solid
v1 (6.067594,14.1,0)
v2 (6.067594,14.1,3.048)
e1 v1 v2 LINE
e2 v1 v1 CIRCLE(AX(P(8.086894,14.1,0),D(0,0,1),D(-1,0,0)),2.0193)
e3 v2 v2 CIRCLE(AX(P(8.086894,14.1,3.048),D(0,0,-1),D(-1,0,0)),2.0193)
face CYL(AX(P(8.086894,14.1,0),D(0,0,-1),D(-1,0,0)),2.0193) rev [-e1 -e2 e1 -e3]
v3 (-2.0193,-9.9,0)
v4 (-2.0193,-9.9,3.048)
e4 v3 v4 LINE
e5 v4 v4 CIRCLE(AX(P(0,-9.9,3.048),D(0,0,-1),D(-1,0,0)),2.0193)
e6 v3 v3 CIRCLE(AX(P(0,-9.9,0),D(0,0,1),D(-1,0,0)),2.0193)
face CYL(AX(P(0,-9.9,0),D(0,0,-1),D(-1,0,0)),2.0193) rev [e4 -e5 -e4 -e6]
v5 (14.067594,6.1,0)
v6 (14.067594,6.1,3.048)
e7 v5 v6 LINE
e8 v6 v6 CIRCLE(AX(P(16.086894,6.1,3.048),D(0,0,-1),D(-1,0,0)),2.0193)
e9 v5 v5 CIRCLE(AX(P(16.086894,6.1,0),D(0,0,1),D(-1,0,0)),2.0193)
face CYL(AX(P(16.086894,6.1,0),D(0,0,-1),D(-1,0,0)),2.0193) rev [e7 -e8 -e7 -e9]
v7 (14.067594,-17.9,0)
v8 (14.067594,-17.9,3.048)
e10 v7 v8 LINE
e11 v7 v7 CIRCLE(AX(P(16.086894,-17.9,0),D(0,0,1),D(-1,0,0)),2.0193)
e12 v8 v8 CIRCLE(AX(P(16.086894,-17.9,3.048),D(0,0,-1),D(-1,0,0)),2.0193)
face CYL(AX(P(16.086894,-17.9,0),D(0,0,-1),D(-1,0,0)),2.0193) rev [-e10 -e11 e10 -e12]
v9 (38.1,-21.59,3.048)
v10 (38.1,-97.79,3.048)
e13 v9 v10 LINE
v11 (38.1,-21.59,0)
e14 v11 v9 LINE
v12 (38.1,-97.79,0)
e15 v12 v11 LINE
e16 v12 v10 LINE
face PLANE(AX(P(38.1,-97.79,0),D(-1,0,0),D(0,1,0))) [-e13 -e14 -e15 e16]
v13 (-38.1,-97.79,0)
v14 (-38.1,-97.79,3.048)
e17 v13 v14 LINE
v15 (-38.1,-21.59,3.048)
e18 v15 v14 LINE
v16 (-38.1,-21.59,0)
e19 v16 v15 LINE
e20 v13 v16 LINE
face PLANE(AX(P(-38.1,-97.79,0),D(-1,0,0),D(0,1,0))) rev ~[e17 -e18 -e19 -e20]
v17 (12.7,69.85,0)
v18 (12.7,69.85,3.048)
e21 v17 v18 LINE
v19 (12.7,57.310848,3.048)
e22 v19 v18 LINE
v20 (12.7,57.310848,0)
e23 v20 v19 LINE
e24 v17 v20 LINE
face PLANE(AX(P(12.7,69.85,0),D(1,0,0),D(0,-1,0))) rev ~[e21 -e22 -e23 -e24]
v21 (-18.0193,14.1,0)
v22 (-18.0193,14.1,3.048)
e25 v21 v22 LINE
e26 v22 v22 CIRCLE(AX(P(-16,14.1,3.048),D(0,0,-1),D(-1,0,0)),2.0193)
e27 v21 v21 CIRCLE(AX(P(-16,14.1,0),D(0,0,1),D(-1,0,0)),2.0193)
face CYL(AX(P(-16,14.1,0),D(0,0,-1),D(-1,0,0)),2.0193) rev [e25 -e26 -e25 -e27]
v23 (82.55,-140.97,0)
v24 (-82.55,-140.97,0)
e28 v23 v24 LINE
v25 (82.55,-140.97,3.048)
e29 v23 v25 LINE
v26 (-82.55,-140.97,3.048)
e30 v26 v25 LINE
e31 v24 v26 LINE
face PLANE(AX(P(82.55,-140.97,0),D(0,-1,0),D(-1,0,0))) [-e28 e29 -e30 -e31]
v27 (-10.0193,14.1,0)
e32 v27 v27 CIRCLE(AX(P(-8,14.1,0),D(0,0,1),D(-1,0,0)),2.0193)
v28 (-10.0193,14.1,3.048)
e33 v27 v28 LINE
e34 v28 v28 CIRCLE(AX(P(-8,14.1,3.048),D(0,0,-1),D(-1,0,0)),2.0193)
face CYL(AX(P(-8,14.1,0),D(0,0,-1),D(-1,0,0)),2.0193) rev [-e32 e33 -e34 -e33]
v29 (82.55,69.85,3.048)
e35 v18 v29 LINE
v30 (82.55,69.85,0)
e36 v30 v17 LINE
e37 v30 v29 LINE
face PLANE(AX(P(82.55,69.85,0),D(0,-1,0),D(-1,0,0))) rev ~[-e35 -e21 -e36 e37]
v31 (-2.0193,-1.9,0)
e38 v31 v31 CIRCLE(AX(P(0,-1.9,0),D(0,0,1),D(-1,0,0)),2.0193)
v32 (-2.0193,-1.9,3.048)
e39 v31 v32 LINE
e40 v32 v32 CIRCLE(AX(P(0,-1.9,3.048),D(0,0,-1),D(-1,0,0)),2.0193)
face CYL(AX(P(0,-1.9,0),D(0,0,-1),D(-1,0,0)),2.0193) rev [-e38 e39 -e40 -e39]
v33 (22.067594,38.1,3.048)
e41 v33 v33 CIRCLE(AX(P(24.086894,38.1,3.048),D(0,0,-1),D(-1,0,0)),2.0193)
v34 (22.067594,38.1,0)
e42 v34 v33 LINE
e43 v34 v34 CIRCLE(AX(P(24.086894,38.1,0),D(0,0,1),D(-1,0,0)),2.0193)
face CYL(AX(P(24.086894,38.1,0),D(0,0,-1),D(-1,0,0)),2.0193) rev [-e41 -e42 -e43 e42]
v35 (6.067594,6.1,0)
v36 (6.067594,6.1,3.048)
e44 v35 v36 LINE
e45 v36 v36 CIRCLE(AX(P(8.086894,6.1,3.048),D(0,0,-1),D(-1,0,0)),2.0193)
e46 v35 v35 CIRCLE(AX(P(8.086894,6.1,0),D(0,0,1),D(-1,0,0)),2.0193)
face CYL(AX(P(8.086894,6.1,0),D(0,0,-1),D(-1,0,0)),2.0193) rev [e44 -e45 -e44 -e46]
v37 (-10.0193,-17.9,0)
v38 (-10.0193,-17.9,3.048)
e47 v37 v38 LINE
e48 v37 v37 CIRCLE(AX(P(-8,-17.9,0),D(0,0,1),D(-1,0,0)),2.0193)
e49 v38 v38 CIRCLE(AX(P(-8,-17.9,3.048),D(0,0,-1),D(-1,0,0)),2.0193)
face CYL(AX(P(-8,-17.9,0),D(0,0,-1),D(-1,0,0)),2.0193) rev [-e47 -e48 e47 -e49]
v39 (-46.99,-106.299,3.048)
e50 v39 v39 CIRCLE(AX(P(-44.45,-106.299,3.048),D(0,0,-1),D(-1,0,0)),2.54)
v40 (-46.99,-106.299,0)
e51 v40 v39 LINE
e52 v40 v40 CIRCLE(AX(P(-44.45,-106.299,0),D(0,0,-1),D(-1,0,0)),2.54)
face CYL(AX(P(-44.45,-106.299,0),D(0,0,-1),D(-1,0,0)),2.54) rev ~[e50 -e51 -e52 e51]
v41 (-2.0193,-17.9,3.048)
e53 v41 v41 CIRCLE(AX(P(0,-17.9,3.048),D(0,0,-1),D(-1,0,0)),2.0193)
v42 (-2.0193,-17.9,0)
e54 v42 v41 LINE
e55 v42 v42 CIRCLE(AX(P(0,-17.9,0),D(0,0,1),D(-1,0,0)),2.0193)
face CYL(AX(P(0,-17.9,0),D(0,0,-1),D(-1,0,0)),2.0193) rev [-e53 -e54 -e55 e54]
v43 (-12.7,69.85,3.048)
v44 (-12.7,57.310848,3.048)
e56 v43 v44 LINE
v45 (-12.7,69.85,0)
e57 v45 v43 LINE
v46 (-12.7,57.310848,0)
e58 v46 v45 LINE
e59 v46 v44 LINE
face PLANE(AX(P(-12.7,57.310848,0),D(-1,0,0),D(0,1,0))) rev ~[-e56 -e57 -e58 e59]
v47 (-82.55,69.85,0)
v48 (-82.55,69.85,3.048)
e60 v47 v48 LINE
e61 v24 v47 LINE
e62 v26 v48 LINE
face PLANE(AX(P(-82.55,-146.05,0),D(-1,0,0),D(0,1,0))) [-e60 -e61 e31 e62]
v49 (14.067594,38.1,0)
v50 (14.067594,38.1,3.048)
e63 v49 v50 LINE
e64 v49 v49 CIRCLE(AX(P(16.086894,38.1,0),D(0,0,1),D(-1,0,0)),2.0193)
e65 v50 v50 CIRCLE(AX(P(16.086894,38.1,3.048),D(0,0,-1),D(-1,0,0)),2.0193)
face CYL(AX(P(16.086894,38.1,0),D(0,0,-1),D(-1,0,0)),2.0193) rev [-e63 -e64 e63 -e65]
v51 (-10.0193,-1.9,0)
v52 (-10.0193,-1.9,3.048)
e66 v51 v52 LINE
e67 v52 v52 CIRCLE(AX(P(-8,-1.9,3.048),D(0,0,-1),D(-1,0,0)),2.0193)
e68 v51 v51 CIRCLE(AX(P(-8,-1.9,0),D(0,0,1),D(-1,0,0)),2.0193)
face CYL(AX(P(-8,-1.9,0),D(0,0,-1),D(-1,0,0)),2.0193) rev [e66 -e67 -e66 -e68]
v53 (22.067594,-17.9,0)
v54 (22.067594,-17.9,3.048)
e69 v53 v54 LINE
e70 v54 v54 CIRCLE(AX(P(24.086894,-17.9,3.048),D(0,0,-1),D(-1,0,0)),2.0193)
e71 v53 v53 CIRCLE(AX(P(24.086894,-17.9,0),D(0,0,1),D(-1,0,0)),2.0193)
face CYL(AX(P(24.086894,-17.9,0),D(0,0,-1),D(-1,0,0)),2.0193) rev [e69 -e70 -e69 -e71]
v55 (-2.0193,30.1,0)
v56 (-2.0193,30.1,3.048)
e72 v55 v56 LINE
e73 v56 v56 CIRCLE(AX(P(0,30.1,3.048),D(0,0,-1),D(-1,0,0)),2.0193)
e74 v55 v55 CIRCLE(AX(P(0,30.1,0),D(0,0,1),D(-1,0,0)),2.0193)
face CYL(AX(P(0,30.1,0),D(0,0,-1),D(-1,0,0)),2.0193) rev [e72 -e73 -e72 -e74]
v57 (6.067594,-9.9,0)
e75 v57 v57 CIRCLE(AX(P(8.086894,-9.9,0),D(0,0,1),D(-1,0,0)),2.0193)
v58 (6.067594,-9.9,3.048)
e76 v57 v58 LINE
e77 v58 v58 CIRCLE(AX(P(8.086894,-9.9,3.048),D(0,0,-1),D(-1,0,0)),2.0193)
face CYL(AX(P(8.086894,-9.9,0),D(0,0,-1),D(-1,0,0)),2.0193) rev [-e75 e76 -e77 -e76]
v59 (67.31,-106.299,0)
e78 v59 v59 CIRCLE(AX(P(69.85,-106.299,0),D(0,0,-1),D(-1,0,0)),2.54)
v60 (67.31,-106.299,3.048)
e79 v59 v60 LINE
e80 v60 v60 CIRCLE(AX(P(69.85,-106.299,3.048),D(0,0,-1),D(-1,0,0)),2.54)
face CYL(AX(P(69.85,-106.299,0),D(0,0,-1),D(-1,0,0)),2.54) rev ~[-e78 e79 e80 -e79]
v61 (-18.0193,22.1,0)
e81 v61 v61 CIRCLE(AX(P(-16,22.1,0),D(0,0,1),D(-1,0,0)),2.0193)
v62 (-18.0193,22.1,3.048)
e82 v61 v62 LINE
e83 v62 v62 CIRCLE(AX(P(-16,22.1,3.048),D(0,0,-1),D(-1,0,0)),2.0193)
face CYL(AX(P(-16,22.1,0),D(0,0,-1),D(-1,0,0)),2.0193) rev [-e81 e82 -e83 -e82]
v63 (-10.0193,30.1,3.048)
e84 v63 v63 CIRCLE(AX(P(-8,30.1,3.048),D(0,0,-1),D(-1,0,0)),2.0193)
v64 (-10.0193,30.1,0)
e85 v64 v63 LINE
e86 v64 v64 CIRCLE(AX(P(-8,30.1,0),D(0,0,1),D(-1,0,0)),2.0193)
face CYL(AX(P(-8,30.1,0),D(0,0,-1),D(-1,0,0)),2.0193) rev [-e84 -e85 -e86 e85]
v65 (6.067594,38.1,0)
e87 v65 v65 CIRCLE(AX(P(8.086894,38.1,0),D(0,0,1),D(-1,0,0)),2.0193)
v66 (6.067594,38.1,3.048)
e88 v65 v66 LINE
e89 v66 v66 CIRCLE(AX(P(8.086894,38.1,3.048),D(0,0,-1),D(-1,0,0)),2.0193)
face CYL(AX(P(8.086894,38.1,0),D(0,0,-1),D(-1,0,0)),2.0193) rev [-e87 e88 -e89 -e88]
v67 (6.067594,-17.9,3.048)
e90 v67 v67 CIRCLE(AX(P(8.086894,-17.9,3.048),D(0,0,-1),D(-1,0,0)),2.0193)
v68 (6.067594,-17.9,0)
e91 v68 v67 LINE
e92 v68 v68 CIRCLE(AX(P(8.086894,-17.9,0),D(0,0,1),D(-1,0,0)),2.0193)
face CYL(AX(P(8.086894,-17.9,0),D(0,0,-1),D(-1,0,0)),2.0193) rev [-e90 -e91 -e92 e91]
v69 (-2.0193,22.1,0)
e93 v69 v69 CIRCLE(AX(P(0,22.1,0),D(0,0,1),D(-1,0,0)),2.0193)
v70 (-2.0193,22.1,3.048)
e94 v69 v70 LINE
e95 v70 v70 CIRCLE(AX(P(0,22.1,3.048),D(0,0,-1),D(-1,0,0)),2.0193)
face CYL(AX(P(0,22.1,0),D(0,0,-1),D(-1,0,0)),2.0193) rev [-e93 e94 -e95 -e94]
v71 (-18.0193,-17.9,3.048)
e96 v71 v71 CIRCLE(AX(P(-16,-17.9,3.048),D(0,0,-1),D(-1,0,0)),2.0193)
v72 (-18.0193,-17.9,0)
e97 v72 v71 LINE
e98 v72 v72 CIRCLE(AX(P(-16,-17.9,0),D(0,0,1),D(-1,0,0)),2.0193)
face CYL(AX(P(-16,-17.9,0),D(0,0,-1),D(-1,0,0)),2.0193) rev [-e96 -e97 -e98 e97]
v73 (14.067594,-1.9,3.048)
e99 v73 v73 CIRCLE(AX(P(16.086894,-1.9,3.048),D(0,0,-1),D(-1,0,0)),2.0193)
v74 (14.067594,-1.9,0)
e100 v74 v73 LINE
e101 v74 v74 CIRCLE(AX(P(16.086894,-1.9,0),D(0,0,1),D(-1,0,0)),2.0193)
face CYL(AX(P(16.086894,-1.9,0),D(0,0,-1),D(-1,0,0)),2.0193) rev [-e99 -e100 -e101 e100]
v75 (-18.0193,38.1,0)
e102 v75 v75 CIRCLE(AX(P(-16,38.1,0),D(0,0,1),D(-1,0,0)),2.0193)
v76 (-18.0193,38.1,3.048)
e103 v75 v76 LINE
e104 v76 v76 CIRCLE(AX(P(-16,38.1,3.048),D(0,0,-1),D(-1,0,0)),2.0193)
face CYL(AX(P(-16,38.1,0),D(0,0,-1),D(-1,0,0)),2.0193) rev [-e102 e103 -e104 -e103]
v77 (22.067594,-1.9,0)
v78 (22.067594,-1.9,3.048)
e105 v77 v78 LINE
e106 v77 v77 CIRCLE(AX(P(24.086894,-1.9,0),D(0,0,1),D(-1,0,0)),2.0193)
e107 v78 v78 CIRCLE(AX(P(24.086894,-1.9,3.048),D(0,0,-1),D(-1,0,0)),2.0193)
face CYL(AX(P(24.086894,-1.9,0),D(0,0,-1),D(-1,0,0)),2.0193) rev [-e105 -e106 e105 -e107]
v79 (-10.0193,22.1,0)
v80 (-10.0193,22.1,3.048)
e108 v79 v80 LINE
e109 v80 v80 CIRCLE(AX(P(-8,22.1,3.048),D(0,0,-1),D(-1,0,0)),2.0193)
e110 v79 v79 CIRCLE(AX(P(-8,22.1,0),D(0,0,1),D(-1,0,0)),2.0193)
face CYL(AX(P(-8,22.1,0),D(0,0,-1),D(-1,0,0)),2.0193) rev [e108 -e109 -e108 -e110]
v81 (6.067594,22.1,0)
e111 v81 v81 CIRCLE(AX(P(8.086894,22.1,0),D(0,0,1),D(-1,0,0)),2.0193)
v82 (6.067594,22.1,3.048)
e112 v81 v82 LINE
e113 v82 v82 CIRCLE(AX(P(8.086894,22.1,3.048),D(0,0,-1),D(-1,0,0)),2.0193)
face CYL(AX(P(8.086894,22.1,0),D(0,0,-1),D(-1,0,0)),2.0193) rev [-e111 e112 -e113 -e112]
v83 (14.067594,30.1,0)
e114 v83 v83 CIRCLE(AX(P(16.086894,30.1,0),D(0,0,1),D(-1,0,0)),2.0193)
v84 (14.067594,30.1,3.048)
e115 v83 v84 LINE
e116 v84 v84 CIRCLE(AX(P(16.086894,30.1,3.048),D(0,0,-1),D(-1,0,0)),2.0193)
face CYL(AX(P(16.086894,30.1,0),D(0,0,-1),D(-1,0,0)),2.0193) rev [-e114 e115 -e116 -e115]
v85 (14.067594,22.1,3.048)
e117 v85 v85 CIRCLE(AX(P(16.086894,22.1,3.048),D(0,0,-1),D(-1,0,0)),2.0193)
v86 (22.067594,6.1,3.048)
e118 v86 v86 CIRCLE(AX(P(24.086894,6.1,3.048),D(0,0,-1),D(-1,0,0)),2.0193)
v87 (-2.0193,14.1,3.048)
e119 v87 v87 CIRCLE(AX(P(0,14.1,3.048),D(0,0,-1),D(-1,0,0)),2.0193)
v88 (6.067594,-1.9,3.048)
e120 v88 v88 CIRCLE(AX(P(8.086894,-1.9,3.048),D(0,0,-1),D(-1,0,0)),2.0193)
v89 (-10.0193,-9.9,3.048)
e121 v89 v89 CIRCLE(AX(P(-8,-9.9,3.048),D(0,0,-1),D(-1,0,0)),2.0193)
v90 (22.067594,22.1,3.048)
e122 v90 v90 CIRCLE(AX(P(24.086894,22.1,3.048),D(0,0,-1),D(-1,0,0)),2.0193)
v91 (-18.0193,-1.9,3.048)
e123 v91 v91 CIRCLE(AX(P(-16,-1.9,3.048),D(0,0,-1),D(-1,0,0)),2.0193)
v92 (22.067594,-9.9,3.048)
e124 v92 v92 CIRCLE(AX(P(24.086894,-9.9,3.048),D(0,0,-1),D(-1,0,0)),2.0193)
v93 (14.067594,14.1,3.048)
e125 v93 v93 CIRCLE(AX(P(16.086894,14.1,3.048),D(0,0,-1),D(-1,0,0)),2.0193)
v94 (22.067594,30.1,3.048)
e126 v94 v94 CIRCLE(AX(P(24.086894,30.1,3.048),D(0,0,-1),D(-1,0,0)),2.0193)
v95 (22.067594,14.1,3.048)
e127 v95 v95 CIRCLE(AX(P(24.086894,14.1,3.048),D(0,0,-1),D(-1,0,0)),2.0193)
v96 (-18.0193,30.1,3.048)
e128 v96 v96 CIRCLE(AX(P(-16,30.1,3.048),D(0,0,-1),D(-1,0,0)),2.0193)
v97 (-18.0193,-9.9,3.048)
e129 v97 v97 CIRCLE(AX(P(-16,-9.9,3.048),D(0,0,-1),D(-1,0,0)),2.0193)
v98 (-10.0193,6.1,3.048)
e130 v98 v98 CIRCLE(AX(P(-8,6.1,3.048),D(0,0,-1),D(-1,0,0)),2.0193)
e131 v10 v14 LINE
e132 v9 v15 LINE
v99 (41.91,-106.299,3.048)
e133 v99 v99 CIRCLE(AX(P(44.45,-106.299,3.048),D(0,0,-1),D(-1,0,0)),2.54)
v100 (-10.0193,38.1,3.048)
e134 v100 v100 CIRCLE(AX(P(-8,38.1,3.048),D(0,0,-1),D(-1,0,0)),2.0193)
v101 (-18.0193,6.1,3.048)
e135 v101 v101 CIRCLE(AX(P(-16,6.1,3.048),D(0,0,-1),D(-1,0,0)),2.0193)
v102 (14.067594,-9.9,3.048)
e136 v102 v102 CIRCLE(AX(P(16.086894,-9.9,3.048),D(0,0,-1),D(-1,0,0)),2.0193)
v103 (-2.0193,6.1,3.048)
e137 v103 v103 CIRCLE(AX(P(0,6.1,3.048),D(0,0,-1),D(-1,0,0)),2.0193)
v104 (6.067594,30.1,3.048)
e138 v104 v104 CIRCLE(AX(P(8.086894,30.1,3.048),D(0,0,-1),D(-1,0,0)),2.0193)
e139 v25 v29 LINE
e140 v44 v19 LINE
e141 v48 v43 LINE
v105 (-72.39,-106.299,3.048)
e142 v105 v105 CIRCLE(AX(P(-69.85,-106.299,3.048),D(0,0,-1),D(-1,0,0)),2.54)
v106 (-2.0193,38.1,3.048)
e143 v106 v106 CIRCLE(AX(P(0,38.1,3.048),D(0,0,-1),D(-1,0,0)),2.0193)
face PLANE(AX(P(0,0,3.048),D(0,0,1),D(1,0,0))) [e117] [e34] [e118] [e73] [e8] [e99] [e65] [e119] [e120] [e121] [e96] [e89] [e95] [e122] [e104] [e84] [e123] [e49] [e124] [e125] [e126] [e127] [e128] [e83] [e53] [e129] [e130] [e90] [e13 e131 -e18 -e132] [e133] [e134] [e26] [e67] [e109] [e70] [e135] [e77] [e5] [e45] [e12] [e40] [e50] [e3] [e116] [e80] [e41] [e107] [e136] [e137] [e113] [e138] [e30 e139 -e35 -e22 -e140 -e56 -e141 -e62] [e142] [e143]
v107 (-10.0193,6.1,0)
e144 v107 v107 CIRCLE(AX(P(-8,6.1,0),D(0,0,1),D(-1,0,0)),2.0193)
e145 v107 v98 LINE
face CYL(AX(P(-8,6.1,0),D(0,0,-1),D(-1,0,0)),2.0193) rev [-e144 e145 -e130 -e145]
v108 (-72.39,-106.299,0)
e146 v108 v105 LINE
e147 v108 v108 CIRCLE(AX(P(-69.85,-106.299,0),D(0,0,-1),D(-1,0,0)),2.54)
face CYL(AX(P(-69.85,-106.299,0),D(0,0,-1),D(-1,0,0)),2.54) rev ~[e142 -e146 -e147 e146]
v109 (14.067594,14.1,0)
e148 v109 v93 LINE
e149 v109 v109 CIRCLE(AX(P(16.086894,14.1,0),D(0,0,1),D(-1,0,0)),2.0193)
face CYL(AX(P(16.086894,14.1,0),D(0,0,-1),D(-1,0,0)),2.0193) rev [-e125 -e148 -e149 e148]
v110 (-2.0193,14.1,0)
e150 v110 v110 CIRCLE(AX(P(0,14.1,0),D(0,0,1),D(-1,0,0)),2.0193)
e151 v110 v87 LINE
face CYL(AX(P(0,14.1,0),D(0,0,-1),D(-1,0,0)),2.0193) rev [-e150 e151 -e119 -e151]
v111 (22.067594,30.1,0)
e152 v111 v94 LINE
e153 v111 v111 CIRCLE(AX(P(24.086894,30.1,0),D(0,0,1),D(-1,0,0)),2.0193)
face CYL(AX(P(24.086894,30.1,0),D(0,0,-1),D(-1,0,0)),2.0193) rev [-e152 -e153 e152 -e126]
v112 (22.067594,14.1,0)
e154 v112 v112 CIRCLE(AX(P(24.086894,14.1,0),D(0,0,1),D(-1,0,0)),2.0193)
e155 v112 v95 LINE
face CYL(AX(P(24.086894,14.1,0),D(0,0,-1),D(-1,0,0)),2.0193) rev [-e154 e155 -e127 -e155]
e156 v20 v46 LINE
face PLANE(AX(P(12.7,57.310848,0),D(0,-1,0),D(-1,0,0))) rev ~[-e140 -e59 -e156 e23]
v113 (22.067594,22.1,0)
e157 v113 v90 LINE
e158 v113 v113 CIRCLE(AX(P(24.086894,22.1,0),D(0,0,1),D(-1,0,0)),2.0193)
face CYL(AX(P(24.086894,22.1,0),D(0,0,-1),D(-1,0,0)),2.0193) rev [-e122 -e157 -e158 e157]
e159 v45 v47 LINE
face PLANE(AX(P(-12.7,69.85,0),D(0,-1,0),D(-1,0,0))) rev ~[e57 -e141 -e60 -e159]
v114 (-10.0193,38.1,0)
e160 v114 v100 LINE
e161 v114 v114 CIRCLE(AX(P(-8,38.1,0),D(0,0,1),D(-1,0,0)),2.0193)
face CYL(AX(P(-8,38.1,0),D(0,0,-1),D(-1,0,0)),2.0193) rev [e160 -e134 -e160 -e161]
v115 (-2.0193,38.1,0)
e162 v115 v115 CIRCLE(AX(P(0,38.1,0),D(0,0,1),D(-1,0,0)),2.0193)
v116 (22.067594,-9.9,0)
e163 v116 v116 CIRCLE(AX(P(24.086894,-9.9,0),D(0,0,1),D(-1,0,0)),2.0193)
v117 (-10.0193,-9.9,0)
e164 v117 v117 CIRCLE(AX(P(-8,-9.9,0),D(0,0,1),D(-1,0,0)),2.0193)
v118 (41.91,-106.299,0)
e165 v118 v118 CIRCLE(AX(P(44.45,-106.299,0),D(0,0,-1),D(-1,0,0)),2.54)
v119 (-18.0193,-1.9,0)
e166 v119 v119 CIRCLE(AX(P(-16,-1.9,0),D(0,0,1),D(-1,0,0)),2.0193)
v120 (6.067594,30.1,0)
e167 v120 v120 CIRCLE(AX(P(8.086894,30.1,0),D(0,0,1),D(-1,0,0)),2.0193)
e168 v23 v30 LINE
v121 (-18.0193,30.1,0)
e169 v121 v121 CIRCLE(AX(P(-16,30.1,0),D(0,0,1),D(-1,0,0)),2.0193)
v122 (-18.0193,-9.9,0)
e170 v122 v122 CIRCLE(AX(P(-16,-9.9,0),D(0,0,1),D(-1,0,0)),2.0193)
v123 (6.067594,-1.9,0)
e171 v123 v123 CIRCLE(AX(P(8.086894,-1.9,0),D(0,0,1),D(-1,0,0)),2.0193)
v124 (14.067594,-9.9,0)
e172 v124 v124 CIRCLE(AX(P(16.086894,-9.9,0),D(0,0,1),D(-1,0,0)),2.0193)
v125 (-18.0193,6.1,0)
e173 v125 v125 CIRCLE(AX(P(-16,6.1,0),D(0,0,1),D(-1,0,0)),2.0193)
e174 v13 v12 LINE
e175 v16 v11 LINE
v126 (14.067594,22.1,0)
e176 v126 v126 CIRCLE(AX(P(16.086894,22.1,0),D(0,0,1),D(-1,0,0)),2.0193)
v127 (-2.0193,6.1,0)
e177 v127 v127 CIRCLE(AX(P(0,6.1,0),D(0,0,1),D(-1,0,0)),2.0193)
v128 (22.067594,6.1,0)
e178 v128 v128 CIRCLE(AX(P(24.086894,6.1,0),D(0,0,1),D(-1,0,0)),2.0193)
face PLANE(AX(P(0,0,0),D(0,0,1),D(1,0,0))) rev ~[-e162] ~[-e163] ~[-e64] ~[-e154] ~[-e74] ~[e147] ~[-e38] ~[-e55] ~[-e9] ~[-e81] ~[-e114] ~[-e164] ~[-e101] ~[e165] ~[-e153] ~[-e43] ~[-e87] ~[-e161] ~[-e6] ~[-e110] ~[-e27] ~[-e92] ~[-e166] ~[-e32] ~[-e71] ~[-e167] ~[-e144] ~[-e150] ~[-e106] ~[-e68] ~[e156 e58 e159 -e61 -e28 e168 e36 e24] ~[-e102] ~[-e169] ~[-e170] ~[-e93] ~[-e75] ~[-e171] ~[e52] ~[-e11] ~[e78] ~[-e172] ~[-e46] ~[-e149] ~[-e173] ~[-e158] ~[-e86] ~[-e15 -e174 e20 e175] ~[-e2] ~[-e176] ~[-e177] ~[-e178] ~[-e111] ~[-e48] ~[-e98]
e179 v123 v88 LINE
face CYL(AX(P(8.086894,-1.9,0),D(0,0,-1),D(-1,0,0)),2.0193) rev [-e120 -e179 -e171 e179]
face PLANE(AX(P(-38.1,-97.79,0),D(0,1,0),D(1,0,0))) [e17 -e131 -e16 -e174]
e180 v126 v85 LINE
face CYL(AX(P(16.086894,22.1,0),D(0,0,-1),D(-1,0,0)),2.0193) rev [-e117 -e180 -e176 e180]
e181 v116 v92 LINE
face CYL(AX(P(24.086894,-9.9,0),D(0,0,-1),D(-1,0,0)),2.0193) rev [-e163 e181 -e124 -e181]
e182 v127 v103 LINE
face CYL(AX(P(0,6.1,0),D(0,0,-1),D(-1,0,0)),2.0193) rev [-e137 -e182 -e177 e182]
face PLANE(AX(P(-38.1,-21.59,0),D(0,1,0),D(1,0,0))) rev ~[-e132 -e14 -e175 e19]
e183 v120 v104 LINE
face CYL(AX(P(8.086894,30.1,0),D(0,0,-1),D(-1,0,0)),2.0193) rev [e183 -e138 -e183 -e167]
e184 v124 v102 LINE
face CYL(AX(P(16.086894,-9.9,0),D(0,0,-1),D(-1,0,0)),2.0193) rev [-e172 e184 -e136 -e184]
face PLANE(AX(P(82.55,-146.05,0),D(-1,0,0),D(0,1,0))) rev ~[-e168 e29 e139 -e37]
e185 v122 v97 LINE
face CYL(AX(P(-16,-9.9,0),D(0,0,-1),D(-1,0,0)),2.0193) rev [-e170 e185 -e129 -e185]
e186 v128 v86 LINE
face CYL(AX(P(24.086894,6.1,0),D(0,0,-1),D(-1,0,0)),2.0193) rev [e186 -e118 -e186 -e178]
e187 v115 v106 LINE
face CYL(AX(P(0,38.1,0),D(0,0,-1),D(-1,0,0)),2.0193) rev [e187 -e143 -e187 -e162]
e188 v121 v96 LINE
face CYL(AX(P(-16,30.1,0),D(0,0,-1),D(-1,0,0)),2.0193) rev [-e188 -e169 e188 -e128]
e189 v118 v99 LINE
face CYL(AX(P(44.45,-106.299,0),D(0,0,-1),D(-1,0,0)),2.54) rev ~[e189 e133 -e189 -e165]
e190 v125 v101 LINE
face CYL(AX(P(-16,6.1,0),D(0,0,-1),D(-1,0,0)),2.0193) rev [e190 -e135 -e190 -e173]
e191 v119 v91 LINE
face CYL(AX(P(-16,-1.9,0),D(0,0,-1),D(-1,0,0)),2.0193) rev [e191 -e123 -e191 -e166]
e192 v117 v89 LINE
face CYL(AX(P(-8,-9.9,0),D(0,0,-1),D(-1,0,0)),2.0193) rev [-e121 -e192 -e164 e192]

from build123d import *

# Parameters (mm, degrees)
SKETCH1_W           = 165.1
SKETCH1_H           = 292.1
BOSS_EXTRUDE1_DEPTH = 3.048
SKETCH2_R           = 10.7315
SKETCH2_R_2         = 2.0193
SKETCH2_W           = 16.173788568
SKETCH2_H           = 32.6898
SKETCH2_W_2         = 76.2
SKETCH2_H_2         = 76.2
CUT_EXTRUDE1_DEPTH  = 168.792715289
CUT_EXTRUDE2_DEPTH  = 168.792715289
SKETCH5_R           = 2.54
CUT_EXTRUDE3_DEPTH  = 168.792715289
SKETCH6_W           = 165.1
SKETCH6_H           = 5.08
CUT_EXTRUDE4_DEPTH  = 168.792715289


with BuildPart() as part:
    # Sketch1 → Boss-Extrude1 (new body)
    with BuildSketch(Plane.XY):
        Rectangle(SKETCH1_W, SKETCH1_H)
    extrude(amount=BOSS_EXTRUDE1_DEPTH)

    # Sketch2 → Cut-Extrude1 (cut, through all)
    with BuildSketch(Plane.XY):
        with Locations((0, 92.71)):
            Circle(SKETCH2_R)
        with Locations(Location((0, 38.1, 0), (0, 0, 180))):
            Circle(SKETCH2_R_2)
        with Locations(Location((0, 30.1, 0), (0, 0, 180))):
            Circle(SKETCH2_R_2)
        with Locations(Location((0, 22.1, 0), (0, 0, 180))):
            Circle(SKETCH2_R_2)
        with Locations(Location((0, 14.1, 0), (0, 0, 180))):
            Circle(SKETCH2_R_2)
        with Locations(Location((0, 6.1, 0), (0, 0, 180))):
            Circle(SKETCH2_R_2)
        with Locations(Location((0, -1.9, 0), (0, 0, 180))):
            Circle(SKETCH2_R_2)
        with Locations(Location((0, -9.9, 0), (0, 0, 180))):
            Circle(SKETCH2_R_2)
        with Locations(Location((0, -17.9, 0), (0, 0, 180))):
            Circle(SKETCH2_R_2)
        with Locations(Location((-8, 38.1, 0), (0, 0, 180))):
            Circle(SKETCH2_R_2)
        with Locations(Location((-16, 38.1, 0), (0, 0, 180))):
            Circle(SKETCH2_R_2)
        with Locations(Location((-8, 30.1, 0), (0, 0, 180))):
            Circle(SKETCH2_R_2)
        with Locations(Location((-16, 30.1, 0), (0, 0, 180))):
            Circle(SKETCH2_R_2)
        with Locations(Location((-8, 22.1, 0), (0, 0, 180))):
            Circle(SKETCH2_R_2)
        with Locations(Location((-16, 22.1, 0), (0, 0, 180))):
            Circle(SKETCH2_R_2)
        with Locations(Location((-8, 14.1, 0), (0, 0, 180))):
            Circle(SKETCH2_R_2)
        with Locations(Location((-16, 14.1, 0), (0, 0, 180))):
            Circle(SKETCH2_R_2)
        with Locations(Location((-8, 6.1, 0), (0, 0, 180))):
            Circle(SKETCH2_R_2)
        with Locations(Location((-16, 6.1, 0), (0, 0, 180))):
            Circle(SKETCH2_R_2)
        with Locations(Location((-8, -1.9, 0), (0, 0, 180))):
            Circle(SKETCH2_R_2)
        with Locations(Location((-16, -1.9, 0), (0, 0, 180))):
            Circle(SKETCH2_R_2)
        with Locations(Location((-8, -9.9, 0), (0, 0, 180))):
            Circle(SKETCH2_R_2)
        with Locations(Location((-16, -9.9, 0), (0, 0, 180))):
            Circle(SKETCH2_R_2)
        with Locations(Location((-8, -17.9, 0), (0, 0, 180))):
            Circle(SKETCH2_R_2)
        with Locations(Location((-16, -17.9, 0), (0, 0, 180))):
            Circle(SKETCH2_R_2)
        with Locations(Location((24.086894284, 14.1, 0), (0, 0, 180))):
            Circle(SKETCH2_R_2)
        with Locations(Location((8.086894284, 14.1, 0), (0, 0, 180))):
            Circle(SKETCH2_R_2)
        with Locations(Location((8.086894284, -17.9, 0), (0, 0, 180))):
            Circle(SKETCH2_R_2)
        with Locations(Location((24.086894284, 6.1, 0), (0, 0, 180))):
            Circle(SKETCH2_R_2)
        with Locations(Location((16.086894284, 6.1, 0), (0, 0, 180))):
            Circle(SKETCH2_R_2)
        with Locations(Location((8.086894284, -1.9, 0), (0, 0, 180))):
            Circle(SKETCH2_R_2)
        with Locations(Location((8.086894284, 30.1, 0), (0, 0, 180))):
            Circle(SKETCH2_R_2)
        with Locations(Location((24.086894284, 22.1, 0), (0, 0, 180))):
            Circle(SKETCH2_R_2)
        with Locations(Location((24.086894284, -1.9, 0), (0, 0, 180))):
            Circle(SKETCH2_R_2)
        with Locations(Location((24.086894284, -9.9, 0), (0, 0, 180))):
            Circle(SKETCH2_R_2)
        with Locations(Location((8.086894284, 6.1, 0), (0, 0, 180))):
            Circle(SKETCH2_R_2)
        with Locations(Location((16.086894284, 22.1, 0), (0, 0, 180))):
            Circle(SKETCH2_R_2)
        with Locations(Location((8.086894284, 22.1, 0), (0, 0, 180))):
            Circle(SKETCH2_R_2)
        with Locations(Location((8.086894284, -9.9, 0), (0, 0, 180))):
            Circle(SKETCH2_R_2)
        with Locations(Location((24.086894284, -17.9, 0), (0, 0, 180))):
            Circle(SKETCH2_R_2)
        with Locations(Location((16.086894284, 14.1, 0), (0, 0, 180))):
            Circle(SKETCH2_R_2)
        with Locations(Location((16.086894284, -17.9, 0), (0, 0, 180))):
            Circle(SKETCH2_R_2)
        with Locations(Location((16.086894284, 30.1, 0), (0, 0, 180))):
            Circle(SKETCH2_R_2)
        with Locations(Location((24.086894284, 30.1, 0), (0, 0, 180))):
            Circle(SKETCH2_R_2)
        with Locations(Location((16.086894284, -9.9, 0), (0, 0, 180))):
            Circle(SKETCH2_R_2)
        with Locations(Location((16.086894284, -1.9, 0), (0, 0, 180))):
            Circle(SKETCH2_R_2)
        with Locations(Location((16.086894284, 38.1, 0), (0, 0, 180))):
            Circle(SKETCH2_R_2)
        with Locations(Location((8.086894284, 38.1, 0), (0, 0, 180))):
            Circle(SKETCH2_R_2)
        with Locations(Location((24.086894284, 38.1, 0), (0, 0, 180))):
            Circle(SKETCH2_R_2)
        with Locations((0, 92.71)):
            Rectangle(SKETCH2_W, SKETCH2_H)
        with Locations((0, -59.69)):
            Rectangle(SKETCH2_W_2, SKETCH2_H_2)
    extrude(amount=CUT_EXTRUDE1_DEPTH, mode=Mode.SUBTRACT)

    # Sketch4 → Cut-Extrude2 (cut, through all)
    with BuildSketch(Plane.XY):
        Polygon((-12.7, 57.310847547), (-12.7, 69.85), (-82.55, 69.85), (-82.55, 146.05), (82.55, 146.05), (82.55, 69.85), (12.7, 69.85), (12.7, 57.310847547), align=None)
    extrude(amount=CUT_EXTRUDE2_DEPTH, mode=Mode.SUBTRACT)

    # Sketch5 → Cut-Extrude3 (cut, through all)
    with BuildSketch(Plane(origin=(0, 0, 0), x_dir=(-1, 0, 0), z_dir=(0, 0, -1))):
        with Locations((-44.45, -106.299)):
            Circle(SKETCH5_R)
        with Locations((-69.85, -106.299)):
            Circle(SKETCH5_R)
        with Locations((69.85, -106.299)):
            Circle(SKETCH5_R)
        with Locations((44.45, -106.299)):
            Circle(SKETCH5_R)
    extrude(amount=-CUT_EXTRUDE3_DEPTH, mode=Mode.SUBTRACT)

    # Sketch6 → Cut-Extrude4 (cut, through all)
    with BuildSketch(Plane(origin=(0, 0, 0), x_dir=(-1, 0, 0), z_dir=(0, 0, -1))):
        with Locations((0, -143.51)):
            Rectangle(SKETCH6_W, SKETCH6_H)
    extrude(amount=-CUT_EXTRUDE4_DEPTH, mode=Mode.SUBTRACT)


solid = part.part
